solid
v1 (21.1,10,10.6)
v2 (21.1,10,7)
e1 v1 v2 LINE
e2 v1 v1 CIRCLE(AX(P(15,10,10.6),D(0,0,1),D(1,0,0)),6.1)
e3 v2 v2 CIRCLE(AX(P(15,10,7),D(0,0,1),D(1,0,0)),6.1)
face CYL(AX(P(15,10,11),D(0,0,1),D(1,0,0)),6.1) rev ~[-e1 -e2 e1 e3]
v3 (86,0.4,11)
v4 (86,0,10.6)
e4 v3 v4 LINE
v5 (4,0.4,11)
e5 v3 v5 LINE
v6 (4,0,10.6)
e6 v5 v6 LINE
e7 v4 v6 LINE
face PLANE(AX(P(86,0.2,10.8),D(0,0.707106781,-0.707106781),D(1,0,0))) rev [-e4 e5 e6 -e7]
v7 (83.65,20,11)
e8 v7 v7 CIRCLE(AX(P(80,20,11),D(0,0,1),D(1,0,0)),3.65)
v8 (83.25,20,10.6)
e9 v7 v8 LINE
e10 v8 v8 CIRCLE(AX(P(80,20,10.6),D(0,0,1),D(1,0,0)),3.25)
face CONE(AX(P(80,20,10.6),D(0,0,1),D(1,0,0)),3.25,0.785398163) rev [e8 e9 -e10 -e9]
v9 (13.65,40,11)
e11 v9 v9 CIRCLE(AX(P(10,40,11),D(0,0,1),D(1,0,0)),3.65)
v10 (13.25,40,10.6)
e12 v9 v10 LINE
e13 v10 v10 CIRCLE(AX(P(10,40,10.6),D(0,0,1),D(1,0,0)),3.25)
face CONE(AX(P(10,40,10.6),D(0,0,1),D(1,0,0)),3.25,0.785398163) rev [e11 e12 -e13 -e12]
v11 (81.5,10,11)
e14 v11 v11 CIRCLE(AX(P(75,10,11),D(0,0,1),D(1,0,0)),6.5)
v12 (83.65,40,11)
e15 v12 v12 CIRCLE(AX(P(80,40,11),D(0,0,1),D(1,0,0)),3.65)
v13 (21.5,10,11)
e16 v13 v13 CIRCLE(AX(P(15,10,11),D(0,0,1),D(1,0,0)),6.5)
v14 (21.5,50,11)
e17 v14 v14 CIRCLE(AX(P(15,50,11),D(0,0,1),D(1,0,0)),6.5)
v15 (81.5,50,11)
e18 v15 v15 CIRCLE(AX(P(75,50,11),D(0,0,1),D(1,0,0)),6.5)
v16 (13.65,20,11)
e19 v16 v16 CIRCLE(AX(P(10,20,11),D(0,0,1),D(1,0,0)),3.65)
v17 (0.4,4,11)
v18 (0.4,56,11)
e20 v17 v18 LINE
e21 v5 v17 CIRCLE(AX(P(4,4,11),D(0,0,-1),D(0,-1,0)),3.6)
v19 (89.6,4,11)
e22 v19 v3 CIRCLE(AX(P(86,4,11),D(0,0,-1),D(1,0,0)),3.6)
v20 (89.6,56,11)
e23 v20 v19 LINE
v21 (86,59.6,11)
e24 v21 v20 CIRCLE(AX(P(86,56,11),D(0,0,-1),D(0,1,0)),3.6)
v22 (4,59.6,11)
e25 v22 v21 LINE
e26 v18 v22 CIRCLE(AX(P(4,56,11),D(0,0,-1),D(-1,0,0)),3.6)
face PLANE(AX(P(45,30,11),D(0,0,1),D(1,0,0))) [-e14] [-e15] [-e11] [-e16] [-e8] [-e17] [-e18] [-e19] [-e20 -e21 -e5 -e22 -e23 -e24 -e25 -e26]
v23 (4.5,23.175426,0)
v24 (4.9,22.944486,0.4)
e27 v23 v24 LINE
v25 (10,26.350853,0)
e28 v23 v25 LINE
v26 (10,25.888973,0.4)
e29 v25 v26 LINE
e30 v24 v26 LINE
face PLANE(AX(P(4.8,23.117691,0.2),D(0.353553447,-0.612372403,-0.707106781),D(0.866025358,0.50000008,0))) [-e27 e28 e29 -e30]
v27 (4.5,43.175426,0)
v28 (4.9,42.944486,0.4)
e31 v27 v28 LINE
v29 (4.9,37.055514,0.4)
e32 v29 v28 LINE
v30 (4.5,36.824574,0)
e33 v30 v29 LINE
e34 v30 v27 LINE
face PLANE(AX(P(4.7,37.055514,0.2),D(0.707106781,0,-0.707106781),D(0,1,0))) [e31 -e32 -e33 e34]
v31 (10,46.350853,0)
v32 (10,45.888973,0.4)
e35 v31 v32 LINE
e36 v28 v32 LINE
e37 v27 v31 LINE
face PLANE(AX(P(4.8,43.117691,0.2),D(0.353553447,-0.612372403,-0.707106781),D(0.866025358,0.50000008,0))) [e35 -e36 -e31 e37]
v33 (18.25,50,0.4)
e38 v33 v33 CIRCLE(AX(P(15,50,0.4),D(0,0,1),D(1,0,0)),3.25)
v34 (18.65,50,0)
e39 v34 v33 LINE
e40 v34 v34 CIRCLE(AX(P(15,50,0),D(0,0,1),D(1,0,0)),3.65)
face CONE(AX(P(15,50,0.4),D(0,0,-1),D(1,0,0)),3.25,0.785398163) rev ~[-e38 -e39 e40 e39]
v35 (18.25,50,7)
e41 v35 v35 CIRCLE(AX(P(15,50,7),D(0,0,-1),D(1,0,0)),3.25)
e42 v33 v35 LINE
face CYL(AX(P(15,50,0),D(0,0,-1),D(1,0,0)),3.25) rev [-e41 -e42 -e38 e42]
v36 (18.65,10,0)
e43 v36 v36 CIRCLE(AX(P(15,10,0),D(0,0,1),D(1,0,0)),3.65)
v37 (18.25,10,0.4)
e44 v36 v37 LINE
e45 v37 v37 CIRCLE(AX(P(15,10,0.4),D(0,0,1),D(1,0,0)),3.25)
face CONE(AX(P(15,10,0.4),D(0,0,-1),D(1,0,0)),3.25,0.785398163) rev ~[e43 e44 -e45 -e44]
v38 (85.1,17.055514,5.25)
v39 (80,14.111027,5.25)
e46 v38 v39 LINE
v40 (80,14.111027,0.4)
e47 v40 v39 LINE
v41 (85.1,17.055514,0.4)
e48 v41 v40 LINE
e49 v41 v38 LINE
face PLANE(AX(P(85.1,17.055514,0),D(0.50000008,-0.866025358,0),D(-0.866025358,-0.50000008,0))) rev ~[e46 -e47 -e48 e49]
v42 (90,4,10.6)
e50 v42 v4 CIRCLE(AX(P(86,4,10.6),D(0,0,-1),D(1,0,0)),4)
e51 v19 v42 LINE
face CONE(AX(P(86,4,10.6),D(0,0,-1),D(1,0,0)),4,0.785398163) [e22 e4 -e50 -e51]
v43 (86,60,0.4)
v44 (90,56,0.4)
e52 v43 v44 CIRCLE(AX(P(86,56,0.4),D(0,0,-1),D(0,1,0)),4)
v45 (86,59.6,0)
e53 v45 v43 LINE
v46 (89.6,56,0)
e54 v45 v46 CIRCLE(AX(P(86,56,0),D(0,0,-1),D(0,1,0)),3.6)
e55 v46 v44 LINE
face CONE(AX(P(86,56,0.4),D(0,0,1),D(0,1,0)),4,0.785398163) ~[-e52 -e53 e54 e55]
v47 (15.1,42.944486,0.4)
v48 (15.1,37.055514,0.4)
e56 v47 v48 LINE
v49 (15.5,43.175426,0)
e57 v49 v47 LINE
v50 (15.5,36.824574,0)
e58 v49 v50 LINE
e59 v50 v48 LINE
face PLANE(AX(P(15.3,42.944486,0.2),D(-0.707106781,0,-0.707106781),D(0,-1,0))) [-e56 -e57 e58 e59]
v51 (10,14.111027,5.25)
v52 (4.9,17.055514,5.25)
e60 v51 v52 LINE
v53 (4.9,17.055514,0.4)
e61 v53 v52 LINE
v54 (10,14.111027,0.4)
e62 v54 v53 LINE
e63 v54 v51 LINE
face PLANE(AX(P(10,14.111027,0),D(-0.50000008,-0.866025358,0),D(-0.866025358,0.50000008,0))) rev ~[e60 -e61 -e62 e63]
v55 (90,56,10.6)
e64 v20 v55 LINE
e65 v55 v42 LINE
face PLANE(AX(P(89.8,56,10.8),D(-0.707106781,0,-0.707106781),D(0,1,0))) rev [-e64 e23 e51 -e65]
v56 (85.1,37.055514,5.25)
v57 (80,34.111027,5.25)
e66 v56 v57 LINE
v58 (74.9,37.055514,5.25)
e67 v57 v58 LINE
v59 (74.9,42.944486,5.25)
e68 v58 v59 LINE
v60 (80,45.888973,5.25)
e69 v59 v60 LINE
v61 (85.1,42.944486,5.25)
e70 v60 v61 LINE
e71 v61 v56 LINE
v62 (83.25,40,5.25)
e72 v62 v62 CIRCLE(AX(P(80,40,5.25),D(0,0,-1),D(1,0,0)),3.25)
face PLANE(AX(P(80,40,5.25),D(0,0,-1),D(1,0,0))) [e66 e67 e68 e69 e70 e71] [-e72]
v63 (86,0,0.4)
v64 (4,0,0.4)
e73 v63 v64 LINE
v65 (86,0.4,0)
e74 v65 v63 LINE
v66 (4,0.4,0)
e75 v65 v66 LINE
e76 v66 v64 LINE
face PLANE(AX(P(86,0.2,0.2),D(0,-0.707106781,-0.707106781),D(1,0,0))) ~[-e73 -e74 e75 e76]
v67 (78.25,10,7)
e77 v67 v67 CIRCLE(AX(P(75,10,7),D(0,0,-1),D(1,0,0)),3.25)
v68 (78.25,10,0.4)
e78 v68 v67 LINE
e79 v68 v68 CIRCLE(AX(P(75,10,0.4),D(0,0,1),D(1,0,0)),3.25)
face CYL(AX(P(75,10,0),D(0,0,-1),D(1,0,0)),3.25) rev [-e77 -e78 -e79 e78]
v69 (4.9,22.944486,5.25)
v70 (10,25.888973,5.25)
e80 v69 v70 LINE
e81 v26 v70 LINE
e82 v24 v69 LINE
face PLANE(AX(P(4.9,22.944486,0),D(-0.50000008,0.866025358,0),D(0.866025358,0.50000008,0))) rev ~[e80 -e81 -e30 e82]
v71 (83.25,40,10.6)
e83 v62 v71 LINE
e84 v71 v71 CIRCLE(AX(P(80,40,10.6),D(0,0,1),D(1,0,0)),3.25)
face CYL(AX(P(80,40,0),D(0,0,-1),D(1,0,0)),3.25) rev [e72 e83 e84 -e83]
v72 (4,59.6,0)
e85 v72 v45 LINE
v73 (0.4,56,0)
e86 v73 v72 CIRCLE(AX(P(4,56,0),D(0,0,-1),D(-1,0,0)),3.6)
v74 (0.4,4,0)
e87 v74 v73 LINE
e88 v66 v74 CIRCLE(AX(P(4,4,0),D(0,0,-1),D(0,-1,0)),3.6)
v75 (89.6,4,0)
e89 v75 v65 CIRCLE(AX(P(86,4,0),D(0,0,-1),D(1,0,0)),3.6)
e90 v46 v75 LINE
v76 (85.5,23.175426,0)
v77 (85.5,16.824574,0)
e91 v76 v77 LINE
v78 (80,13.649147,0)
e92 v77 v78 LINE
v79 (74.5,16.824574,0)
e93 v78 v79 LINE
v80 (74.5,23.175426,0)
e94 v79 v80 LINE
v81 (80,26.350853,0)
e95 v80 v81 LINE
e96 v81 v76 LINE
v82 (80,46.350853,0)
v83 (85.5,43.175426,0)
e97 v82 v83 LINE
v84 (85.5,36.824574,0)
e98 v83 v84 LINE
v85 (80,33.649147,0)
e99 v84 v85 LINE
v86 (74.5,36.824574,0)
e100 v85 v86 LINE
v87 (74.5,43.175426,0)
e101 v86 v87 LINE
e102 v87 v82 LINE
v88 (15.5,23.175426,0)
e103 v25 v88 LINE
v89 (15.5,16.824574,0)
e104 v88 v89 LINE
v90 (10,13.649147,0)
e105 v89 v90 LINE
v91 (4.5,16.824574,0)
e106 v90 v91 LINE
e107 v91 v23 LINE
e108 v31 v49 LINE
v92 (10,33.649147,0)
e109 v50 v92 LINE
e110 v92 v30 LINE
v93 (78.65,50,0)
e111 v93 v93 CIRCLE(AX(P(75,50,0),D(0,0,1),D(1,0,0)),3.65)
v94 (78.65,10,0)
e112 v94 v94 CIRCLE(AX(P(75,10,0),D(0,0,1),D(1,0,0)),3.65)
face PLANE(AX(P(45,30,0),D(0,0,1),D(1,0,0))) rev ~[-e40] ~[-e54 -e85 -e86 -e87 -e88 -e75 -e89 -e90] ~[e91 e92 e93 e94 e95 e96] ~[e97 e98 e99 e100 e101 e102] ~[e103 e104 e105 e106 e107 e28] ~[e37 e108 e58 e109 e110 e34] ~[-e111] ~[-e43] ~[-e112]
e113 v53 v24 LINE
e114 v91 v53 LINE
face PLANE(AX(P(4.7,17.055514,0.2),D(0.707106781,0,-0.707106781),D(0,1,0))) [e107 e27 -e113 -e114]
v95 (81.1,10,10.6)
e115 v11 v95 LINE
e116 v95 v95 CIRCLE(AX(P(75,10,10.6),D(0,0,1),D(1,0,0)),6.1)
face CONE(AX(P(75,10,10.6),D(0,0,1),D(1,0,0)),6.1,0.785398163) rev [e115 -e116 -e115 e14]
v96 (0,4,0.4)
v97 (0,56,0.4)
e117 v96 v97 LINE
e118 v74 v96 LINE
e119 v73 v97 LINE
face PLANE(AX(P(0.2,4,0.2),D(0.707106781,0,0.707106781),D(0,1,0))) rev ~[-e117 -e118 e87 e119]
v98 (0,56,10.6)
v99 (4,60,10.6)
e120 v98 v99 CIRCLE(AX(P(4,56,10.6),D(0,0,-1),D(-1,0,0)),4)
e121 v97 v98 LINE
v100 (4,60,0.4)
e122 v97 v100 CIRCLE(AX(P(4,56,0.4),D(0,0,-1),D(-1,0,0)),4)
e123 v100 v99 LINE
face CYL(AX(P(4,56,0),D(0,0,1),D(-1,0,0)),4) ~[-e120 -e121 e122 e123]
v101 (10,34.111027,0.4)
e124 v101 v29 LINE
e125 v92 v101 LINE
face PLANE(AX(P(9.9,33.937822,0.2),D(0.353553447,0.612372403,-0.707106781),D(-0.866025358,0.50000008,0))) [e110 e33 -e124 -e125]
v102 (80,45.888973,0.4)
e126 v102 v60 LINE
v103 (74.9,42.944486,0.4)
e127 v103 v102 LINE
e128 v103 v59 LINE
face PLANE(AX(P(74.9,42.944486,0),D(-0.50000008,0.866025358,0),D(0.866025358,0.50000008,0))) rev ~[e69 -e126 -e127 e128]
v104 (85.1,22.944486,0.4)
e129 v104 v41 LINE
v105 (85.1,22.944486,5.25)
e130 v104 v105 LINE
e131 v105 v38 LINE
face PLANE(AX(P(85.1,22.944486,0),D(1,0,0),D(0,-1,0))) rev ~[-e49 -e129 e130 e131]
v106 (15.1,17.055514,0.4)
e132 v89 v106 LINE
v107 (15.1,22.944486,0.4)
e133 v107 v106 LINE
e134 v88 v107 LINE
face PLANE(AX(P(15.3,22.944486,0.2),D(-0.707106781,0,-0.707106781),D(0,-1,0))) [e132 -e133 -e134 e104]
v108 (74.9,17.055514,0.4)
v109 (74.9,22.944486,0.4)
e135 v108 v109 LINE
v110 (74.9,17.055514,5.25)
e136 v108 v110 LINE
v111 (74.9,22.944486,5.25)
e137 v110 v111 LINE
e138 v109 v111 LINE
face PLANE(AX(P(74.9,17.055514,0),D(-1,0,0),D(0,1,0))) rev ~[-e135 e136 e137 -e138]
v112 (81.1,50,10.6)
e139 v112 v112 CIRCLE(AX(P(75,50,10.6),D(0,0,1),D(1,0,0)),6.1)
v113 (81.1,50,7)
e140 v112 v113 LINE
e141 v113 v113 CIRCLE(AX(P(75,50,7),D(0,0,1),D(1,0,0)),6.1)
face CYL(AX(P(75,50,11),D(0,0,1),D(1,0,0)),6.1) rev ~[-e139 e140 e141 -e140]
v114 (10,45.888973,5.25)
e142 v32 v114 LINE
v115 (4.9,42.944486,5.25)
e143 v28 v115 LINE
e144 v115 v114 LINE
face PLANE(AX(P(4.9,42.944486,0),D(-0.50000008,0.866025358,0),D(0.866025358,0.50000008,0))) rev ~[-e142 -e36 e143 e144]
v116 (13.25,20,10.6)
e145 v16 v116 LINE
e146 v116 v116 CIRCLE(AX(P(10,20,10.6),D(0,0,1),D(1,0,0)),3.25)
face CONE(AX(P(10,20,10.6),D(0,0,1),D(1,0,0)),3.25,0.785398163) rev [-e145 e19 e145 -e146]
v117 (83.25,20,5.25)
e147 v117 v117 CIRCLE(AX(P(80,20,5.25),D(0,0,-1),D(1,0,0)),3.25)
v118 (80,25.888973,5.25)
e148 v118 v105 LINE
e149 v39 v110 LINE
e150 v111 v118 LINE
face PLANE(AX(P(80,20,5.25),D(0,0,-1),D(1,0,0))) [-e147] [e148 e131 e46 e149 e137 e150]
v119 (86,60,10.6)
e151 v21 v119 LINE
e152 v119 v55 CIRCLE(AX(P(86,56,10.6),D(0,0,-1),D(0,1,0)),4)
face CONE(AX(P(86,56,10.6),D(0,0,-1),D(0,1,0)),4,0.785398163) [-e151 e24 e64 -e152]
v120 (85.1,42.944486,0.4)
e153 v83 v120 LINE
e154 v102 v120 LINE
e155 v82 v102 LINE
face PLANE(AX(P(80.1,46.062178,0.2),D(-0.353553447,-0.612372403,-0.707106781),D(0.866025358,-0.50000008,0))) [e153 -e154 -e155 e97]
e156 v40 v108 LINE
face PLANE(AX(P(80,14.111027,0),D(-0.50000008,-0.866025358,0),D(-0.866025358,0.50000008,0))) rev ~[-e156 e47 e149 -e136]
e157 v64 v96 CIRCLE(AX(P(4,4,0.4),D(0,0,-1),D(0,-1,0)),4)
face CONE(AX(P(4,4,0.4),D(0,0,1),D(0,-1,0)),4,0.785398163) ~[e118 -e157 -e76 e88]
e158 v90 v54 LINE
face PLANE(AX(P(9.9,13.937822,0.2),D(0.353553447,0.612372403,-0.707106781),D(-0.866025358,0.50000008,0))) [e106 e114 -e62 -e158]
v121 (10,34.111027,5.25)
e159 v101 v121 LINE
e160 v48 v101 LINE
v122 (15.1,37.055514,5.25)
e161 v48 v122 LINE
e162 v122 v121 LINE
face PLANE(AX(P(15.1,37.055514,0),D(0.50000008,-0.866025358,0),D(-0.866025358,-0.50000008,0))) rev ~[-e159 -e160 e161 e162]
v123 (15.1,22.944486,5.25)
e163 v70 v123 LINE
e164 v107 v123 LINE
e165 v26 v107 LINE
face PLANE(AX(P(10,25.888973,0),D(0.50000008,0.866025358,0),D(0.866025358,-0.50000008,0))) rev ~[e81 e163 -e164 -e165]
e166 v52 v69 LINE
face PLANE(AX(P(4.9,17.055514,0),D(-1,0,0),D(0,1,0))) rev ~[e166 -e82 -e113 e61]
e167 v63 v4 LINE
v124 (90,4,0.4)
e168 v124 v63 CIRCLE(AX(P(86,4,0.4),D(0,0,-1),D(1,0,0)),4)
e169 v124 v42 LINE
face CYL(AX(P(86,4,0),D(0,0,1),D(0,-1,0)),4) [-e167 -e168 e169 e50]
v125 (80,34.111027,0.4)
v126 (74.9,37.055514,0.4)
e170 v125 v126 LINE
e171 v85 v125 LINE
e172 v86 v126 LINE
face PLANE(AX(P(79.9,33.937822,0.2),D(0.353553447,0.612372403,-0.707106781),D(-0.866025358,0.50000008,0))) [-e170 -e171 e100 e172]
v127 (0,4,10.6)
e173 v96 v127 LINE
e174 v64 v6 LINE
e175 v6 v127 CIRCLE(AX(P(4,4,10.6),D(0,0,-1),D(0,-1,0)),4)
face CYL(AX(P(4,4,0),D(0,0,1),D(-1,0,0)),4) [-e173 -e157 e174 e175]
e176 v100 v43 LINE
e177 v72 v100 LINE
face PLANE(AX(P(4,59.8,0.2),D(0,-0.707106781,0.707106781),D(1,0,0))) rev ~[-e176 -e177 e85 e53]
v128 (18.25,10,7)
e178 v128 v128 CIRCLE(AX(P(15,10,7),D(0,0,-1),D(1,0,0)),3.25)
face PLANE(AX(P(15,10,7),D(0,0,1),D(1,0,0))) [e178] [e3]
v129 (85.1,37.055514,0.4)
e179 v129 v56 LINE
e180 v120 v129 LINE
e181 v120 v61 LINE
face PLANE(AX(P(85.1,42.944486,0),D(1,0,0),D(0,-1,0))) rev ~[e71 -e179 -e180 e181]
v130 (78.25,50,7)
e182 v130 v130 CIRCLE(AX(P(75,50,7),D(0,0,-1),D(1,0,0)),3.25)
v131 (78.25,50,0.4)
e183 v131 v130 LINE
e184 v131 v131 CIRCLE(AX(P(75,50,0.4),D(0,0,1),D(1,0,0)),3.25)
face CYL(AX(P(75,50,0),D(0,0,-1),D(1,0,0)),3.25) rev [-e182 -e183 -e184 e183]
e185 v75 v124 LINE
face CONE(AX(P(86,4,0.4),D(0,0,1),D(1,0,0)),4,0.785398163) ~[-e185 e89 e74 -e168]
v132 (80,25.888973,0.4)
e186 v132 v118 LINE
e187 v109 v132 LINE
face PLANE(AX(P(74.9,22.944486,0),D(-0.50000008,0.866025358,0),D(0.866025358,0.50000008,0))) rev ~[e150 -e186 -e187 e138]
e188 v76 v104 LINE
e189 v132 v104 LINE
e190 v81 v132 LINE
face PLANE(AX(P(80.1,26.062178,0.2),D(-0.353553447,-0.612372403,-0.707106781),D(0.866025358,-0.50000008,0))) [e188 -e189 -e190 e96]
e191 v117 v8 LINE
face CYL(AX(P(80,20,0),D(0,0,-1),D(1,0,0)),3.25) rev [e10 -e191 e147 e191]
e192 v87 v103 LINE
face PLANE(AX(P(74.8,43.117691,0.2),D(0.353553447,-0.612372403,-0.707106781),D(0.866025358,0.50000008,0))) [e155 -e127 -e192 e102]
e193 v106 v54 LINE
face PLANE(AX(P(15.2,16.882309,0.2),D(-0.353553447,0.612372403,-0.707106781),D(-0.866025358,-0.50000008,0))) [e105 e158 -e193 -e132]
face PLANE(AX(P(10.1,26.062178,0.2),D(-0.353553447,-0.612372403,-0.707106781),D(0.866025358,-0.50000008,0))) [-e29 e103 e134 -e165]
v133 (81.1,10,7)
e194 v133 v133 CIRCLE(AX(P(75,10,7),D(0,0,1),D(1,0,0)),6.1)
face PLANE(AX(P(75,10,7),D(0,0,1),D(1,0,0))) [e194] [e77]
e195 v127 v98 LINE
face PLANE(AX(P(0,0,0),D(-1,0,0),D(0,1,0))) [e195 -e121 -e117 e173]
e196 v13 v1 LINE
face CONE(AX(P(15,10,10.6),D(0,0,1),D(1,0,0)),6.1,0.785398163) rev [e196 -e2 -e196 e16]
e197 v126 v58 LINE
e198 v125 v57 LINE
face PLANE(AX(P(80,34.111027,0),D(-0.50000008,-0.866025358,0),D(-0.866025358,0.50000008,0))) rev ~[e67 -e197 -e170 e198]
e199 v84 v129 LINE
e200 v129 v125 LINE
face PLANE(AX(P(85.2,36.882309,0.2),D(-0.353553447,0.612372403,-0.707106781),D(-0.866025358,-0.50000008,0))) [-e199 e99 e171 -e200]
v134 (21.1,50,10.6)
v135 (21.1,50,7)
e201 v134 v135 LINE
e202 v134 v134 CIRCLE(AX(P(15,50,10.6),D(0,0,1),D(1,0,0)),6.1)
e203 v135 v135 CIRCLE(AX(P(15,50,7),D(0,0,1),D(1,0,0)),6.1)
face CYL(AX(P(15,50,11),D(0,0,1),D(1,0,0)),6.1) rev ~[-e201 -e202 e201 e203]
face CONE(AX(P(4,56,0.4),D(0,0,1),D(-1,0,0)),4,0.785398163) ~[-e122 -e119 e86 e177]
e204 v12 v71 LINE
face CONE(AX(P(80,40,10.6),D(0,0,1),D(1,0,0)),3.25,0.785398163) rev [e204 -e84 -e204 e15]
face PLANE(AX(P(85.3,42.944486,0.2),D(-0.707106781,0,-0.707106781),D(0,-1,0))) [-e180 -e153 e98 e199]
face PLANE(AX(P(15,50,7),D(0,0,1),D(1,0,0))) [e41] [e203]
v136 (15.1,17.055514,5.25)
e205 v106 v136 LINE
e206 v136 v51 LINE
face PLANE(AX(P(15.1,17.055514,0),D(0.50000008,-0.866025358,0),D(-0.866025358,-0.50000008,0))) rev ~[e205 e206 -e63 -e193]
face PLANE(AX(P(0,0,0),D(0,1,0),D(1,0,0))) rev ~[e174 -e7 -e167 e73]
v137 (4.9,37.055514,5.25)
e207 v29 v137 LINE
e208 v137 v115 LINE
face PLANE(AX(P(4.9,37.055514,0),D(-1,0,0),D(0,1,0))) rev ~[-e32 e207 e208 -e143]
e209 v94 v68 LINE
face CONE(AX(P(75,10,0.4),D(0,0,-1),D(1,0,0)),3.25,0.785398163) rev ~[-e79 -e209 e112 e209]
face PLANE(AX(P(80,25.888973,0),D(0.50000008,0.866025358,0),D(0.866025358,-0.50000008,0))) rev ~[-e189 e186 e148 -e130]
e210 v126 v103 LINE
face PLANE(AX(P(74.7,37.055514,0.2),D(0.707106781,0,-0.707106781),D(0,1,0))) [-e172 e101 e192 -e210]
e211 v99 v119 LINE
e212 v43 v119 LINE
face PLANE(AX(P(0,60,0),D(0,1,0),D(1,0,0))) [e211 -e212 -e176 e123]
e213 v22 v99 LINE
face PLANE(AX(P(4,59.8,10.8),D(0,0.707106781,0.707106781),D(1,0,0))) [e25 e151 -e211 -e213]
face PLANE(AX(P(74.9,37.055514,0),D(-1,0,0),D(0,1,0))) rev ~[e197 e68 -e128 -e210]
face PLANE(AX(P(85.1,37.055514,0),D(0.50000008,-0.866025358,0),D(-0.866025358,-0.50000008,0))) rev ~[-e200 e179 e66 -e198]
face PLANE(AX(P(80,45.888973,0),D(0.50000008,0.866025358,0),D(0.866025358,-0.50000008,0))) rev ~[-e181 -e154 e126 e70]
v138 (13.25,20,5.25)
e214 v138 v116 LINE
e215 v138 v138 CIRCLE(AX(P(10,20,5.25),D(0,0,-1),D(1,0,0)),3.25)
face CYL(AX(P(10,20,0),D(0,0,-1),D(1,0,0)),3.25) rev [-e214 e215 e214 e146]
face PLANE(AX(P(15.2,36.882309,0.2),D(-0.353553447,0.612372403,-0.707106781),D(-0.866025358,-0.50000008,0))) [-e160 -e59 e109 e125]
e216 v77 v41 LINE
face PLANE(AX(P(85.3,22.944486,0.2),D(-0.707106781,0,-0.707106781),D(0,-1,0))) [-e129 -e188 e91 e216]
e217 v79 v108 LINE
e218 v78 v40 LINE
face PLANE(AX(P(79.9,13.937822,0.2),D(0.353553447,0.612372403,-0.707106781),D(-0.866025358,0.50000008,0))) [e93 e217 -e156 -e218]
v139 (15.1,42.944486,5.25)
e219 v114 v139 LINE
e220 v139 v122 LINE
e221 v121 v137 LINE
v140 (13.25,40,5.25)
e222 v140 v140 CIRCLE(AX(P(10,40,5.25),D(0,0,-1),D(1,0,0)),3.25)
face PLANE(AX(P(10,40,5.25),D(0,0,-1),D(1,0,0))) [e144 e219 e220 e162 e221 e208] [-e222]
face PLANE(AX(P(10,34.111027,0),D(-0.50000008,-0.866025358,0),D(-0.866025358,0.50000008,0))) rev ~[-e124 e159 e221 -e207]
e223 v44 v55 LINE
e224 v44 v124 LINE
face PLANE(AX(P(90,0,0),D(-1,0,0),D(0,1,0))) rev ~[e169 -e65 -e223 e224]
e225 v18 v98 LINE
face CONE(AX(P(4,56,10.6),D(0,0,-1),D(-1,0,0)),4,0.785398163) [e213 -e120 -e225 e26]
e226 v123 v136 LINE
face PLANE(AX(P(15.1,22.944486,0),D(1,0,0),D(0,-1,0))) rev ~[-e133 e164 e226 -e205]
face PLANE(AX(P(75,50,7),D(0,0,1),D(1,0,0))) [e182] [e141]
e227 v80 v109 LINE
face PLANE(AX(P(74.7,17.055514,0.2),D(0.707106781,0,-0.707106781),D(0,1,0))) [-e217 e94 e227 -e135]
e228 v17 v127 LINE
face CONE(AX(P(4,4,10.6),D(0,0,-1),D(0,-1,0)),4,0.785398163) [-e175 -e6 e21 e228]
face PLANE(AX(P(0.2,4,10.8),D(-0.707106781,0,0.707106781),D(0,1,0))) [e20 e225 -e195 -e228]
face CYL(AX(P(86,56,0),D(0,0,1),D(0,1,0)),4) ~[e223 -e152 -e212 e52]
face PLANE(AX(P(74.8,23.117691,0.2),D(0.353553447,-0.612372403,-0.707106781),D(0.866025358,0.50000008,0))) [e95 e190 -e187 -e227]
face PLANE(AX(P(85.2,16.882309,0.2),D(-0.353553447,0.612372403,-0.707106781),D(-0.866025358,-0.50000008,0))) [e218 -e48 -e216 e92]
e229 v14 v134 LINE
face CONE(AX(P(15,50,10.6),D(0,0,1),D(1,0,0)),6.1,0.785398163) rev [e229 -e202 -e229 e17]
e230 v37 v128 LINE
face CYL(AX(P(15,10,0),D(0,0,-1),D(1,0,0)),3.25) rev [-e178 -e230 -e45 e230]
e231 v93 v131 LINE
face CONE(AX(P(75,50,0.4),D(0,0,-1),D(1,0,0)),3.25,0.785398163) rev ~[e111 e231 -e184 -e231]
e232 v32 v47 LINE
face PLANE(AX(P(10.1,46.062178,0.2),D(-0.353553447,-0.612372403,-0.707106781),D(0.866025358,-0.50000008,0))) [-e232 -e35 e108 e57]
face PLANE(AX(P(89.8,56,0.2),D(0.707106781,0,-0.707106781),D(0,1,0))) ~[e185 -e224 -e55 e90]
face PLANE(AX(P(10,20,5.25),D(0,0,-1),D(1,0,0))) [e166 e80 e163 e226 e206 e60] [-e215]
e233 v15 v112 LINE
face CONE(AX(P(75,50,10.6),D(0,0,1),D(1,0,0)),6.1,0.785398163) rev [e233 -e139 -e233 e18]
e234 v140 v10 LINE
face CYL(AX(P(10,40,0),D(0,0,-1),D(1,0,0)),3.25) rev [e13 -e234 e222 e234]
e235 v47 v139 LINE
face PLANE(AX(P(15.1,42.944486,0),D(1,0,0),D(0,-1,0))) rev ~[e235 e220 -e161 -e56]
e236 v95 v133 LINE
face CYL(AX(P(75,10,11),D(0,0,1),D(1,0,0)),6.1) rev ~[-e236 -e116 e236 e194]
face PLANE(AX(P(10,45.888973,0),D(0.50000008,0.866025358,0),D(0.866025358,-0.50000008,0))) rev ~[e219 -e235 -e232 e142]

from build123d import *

# Parameters (mm, degrees)
SKETCH_W        = 90
SKETCH_H        = 60
SKETCH_R        = 3.25
PAD_DEPTH       = 11
SKETCH001_R     = 6.1
POCKET_DEPTH    = 4
POCKET001_DEPTH = 5.25
FILLET_R        = 4
CHAMFER_SIZE    = 0.4
CHAMFER001_SIZE = 0.4


with BuildPart() as part:
    # Sketch → Pad (new body)
    with BuildSketch(Plane.XY):
        with Locations((45, 30)):
            Rectangle(SKETCH_W, SKETCH_H)
        with Locations((10, 40)):
            Circle(SKETCH_R, mode=Mode.SUBTRACT)
        with Locations((80, 40)):
            Circle(SKETCH_R, mode=Mode.SUBTRACT)
        with Locations((10, 20)):
            Circle(SKETCH_R, mode=Mode.SUBTRACT)
        with Locations((80, 20)):
            Circle(SKETCH_R, mode=Mode.SUBTRACT)
        with Locations((15, 50)):
            Circle(SKETCH_R, mode=Mode.SUBTRACT)
        with Locations((75, 50)):
            Circle(SKETCH_R, mode=Mode.SUBTRACT)
        with Locations((75, 10)):
            Circle(SKETCH_R, mode=Mode.SUBTRACT)
        with Locations((15, 10)):
            Circle(SKETCH_R, mode=Mode.SUBTRACT)
    extrude(amount=PAD_DEPTH)

    # Sketch001 (on Face14 of Pad) → Pocket (cut)
    with BuildSketch(Plane.XY.offset(11)):
        with Locations((15, 50)):
            Circle(SKETCH001_R)
        with Locations((75, 50)):
            Circle(SKETCH001_R)
        with Locations((75, 10)):
            Circle(SKETCH001_R)
        with Locations((15, 10)):
            Circle(SKETCH001_R)
    extrude(amount=-POCKET_DEPTH, mode=Mode.SUBTRACT)

    # Sketch002 (on Face4 of Pocket) → Pocket001 (cut)
    with BuildSketch(Plane(origin=(0, 0, 0), x_dir=(1, 0, 0), z_dir=(0, 0, -1))):
        Polygon((15.1, -17.055514), (10, -14.111027), (4.9, -17.055514), (4.9, -22.944486), (10, -25.888973), (15.1, -22.944486), align=None)
        Polygon((80, -14.111027), (74.9, -17.055514), (74.9, -22.944486), (80, -25.888973), (85.1, -22.944486), (85.1, -17.055514), align=None)
        Polygon((10, -34.111027), (4.9, -37.055514), (4.9, -42.944486), (10, -45.888973), (15.1, -42.944486), (15.1, -37.055514), align=None)
        Polygon((80, -34.111027), (74.9, -37.055514), (74.9, -42.944486), (80, -45.888973), (85.1, -42.944486), (85.1, -37.055514), align=None)
    extrude(amount=-POCKET001_DEPTH, mode=Mode.SUBTRACT)

    # Fillet
    fillet_edges = [part.edges().sort_by_distance(p)[0] for p in [
        (0, 60, 5.5),
        (90, 60, 5.5),
        (90, 0, 5.5),
        (0, 0, 5.5),
    ]]
    fillet(fillet_edges, radius=FILLET_R)

    # Chamfer
    chamfer_edges = [part.edges().sort_by_distance(p)[0] for p in [
        (45, 60, 11),
        (1.171573, 58.828427, 11),
        (88.828427, 58.828427, 11),
        (0, 30, 11),
        (90, 30, 11),
        (1.171573, 1.171573, 11),
        (88.828427, 1.171573, 11),
        (45, 0, 11),
        (68.9, 10, 11),
        (76.75, 20, 11),
        (8.9, 10, 11),
        (6.75, 20, 11),
        (76.75, 40, 11),
        (68.9, 50, 11),
        (6.75, 40, 11),
        (8.9, 50, 11),
    ]]
    chamfer(chamfer_edges, length=CHAMFER_SIZE)

    # Chamfer001
    chamfer001_edges = [part.edges().sort_by_distance(p)[0] for p in [
        (45, 60, 0),
        (1.171573, 58.828427, 0),
        (88.828427, 58.828427, 0),
        (0, 30, 0),
        (90, 30, 0),
        (1.171573, 1.171573, 0),
        (88.828427, 1.171573, 0),
        (45, 0, 0),
        (71.75, 10, 0),
        (77.45, 15.58327, 0),
        (74.9, 20, 0),
        (77.45, 24.41673, 0),
        (82.55, 24.41673, 0),
        (85.1, 20, 0),
        (82.55, 15.58327, 0),
        (11.75, 10, 0),
        (12.55, 15.58327, 0),
        (7.45, 15.58327, 0),
        (4.9, 20, 0),
        (7.45, 24.41673, 0),
        (12.55, 24.41673, 0),
        (15.1, 20, 0),
        (77.45, 35.58327, 0),
        (74.9, 40, 0),
        (77.45, 44.41673, 0),
        (82.55, 44.41673, 0),
        (85.1, 40, 0),
        (82.55, 35.58327, 0),
        (71.75, 50, 0),
        (7.45, 35.58327, 0),
        (4.9, 40, 0),
        (7.45, 44.41673, 0),
        (12.55, 44.41673, 0),
        (15.1, 40, 0),
        (12.55, 35.58327, 0),
        (11.75, 50, 0),
    ]]
    chamfer(chamfer001_edges, length=CHAMFER001_SIZE)


solid = part.part
